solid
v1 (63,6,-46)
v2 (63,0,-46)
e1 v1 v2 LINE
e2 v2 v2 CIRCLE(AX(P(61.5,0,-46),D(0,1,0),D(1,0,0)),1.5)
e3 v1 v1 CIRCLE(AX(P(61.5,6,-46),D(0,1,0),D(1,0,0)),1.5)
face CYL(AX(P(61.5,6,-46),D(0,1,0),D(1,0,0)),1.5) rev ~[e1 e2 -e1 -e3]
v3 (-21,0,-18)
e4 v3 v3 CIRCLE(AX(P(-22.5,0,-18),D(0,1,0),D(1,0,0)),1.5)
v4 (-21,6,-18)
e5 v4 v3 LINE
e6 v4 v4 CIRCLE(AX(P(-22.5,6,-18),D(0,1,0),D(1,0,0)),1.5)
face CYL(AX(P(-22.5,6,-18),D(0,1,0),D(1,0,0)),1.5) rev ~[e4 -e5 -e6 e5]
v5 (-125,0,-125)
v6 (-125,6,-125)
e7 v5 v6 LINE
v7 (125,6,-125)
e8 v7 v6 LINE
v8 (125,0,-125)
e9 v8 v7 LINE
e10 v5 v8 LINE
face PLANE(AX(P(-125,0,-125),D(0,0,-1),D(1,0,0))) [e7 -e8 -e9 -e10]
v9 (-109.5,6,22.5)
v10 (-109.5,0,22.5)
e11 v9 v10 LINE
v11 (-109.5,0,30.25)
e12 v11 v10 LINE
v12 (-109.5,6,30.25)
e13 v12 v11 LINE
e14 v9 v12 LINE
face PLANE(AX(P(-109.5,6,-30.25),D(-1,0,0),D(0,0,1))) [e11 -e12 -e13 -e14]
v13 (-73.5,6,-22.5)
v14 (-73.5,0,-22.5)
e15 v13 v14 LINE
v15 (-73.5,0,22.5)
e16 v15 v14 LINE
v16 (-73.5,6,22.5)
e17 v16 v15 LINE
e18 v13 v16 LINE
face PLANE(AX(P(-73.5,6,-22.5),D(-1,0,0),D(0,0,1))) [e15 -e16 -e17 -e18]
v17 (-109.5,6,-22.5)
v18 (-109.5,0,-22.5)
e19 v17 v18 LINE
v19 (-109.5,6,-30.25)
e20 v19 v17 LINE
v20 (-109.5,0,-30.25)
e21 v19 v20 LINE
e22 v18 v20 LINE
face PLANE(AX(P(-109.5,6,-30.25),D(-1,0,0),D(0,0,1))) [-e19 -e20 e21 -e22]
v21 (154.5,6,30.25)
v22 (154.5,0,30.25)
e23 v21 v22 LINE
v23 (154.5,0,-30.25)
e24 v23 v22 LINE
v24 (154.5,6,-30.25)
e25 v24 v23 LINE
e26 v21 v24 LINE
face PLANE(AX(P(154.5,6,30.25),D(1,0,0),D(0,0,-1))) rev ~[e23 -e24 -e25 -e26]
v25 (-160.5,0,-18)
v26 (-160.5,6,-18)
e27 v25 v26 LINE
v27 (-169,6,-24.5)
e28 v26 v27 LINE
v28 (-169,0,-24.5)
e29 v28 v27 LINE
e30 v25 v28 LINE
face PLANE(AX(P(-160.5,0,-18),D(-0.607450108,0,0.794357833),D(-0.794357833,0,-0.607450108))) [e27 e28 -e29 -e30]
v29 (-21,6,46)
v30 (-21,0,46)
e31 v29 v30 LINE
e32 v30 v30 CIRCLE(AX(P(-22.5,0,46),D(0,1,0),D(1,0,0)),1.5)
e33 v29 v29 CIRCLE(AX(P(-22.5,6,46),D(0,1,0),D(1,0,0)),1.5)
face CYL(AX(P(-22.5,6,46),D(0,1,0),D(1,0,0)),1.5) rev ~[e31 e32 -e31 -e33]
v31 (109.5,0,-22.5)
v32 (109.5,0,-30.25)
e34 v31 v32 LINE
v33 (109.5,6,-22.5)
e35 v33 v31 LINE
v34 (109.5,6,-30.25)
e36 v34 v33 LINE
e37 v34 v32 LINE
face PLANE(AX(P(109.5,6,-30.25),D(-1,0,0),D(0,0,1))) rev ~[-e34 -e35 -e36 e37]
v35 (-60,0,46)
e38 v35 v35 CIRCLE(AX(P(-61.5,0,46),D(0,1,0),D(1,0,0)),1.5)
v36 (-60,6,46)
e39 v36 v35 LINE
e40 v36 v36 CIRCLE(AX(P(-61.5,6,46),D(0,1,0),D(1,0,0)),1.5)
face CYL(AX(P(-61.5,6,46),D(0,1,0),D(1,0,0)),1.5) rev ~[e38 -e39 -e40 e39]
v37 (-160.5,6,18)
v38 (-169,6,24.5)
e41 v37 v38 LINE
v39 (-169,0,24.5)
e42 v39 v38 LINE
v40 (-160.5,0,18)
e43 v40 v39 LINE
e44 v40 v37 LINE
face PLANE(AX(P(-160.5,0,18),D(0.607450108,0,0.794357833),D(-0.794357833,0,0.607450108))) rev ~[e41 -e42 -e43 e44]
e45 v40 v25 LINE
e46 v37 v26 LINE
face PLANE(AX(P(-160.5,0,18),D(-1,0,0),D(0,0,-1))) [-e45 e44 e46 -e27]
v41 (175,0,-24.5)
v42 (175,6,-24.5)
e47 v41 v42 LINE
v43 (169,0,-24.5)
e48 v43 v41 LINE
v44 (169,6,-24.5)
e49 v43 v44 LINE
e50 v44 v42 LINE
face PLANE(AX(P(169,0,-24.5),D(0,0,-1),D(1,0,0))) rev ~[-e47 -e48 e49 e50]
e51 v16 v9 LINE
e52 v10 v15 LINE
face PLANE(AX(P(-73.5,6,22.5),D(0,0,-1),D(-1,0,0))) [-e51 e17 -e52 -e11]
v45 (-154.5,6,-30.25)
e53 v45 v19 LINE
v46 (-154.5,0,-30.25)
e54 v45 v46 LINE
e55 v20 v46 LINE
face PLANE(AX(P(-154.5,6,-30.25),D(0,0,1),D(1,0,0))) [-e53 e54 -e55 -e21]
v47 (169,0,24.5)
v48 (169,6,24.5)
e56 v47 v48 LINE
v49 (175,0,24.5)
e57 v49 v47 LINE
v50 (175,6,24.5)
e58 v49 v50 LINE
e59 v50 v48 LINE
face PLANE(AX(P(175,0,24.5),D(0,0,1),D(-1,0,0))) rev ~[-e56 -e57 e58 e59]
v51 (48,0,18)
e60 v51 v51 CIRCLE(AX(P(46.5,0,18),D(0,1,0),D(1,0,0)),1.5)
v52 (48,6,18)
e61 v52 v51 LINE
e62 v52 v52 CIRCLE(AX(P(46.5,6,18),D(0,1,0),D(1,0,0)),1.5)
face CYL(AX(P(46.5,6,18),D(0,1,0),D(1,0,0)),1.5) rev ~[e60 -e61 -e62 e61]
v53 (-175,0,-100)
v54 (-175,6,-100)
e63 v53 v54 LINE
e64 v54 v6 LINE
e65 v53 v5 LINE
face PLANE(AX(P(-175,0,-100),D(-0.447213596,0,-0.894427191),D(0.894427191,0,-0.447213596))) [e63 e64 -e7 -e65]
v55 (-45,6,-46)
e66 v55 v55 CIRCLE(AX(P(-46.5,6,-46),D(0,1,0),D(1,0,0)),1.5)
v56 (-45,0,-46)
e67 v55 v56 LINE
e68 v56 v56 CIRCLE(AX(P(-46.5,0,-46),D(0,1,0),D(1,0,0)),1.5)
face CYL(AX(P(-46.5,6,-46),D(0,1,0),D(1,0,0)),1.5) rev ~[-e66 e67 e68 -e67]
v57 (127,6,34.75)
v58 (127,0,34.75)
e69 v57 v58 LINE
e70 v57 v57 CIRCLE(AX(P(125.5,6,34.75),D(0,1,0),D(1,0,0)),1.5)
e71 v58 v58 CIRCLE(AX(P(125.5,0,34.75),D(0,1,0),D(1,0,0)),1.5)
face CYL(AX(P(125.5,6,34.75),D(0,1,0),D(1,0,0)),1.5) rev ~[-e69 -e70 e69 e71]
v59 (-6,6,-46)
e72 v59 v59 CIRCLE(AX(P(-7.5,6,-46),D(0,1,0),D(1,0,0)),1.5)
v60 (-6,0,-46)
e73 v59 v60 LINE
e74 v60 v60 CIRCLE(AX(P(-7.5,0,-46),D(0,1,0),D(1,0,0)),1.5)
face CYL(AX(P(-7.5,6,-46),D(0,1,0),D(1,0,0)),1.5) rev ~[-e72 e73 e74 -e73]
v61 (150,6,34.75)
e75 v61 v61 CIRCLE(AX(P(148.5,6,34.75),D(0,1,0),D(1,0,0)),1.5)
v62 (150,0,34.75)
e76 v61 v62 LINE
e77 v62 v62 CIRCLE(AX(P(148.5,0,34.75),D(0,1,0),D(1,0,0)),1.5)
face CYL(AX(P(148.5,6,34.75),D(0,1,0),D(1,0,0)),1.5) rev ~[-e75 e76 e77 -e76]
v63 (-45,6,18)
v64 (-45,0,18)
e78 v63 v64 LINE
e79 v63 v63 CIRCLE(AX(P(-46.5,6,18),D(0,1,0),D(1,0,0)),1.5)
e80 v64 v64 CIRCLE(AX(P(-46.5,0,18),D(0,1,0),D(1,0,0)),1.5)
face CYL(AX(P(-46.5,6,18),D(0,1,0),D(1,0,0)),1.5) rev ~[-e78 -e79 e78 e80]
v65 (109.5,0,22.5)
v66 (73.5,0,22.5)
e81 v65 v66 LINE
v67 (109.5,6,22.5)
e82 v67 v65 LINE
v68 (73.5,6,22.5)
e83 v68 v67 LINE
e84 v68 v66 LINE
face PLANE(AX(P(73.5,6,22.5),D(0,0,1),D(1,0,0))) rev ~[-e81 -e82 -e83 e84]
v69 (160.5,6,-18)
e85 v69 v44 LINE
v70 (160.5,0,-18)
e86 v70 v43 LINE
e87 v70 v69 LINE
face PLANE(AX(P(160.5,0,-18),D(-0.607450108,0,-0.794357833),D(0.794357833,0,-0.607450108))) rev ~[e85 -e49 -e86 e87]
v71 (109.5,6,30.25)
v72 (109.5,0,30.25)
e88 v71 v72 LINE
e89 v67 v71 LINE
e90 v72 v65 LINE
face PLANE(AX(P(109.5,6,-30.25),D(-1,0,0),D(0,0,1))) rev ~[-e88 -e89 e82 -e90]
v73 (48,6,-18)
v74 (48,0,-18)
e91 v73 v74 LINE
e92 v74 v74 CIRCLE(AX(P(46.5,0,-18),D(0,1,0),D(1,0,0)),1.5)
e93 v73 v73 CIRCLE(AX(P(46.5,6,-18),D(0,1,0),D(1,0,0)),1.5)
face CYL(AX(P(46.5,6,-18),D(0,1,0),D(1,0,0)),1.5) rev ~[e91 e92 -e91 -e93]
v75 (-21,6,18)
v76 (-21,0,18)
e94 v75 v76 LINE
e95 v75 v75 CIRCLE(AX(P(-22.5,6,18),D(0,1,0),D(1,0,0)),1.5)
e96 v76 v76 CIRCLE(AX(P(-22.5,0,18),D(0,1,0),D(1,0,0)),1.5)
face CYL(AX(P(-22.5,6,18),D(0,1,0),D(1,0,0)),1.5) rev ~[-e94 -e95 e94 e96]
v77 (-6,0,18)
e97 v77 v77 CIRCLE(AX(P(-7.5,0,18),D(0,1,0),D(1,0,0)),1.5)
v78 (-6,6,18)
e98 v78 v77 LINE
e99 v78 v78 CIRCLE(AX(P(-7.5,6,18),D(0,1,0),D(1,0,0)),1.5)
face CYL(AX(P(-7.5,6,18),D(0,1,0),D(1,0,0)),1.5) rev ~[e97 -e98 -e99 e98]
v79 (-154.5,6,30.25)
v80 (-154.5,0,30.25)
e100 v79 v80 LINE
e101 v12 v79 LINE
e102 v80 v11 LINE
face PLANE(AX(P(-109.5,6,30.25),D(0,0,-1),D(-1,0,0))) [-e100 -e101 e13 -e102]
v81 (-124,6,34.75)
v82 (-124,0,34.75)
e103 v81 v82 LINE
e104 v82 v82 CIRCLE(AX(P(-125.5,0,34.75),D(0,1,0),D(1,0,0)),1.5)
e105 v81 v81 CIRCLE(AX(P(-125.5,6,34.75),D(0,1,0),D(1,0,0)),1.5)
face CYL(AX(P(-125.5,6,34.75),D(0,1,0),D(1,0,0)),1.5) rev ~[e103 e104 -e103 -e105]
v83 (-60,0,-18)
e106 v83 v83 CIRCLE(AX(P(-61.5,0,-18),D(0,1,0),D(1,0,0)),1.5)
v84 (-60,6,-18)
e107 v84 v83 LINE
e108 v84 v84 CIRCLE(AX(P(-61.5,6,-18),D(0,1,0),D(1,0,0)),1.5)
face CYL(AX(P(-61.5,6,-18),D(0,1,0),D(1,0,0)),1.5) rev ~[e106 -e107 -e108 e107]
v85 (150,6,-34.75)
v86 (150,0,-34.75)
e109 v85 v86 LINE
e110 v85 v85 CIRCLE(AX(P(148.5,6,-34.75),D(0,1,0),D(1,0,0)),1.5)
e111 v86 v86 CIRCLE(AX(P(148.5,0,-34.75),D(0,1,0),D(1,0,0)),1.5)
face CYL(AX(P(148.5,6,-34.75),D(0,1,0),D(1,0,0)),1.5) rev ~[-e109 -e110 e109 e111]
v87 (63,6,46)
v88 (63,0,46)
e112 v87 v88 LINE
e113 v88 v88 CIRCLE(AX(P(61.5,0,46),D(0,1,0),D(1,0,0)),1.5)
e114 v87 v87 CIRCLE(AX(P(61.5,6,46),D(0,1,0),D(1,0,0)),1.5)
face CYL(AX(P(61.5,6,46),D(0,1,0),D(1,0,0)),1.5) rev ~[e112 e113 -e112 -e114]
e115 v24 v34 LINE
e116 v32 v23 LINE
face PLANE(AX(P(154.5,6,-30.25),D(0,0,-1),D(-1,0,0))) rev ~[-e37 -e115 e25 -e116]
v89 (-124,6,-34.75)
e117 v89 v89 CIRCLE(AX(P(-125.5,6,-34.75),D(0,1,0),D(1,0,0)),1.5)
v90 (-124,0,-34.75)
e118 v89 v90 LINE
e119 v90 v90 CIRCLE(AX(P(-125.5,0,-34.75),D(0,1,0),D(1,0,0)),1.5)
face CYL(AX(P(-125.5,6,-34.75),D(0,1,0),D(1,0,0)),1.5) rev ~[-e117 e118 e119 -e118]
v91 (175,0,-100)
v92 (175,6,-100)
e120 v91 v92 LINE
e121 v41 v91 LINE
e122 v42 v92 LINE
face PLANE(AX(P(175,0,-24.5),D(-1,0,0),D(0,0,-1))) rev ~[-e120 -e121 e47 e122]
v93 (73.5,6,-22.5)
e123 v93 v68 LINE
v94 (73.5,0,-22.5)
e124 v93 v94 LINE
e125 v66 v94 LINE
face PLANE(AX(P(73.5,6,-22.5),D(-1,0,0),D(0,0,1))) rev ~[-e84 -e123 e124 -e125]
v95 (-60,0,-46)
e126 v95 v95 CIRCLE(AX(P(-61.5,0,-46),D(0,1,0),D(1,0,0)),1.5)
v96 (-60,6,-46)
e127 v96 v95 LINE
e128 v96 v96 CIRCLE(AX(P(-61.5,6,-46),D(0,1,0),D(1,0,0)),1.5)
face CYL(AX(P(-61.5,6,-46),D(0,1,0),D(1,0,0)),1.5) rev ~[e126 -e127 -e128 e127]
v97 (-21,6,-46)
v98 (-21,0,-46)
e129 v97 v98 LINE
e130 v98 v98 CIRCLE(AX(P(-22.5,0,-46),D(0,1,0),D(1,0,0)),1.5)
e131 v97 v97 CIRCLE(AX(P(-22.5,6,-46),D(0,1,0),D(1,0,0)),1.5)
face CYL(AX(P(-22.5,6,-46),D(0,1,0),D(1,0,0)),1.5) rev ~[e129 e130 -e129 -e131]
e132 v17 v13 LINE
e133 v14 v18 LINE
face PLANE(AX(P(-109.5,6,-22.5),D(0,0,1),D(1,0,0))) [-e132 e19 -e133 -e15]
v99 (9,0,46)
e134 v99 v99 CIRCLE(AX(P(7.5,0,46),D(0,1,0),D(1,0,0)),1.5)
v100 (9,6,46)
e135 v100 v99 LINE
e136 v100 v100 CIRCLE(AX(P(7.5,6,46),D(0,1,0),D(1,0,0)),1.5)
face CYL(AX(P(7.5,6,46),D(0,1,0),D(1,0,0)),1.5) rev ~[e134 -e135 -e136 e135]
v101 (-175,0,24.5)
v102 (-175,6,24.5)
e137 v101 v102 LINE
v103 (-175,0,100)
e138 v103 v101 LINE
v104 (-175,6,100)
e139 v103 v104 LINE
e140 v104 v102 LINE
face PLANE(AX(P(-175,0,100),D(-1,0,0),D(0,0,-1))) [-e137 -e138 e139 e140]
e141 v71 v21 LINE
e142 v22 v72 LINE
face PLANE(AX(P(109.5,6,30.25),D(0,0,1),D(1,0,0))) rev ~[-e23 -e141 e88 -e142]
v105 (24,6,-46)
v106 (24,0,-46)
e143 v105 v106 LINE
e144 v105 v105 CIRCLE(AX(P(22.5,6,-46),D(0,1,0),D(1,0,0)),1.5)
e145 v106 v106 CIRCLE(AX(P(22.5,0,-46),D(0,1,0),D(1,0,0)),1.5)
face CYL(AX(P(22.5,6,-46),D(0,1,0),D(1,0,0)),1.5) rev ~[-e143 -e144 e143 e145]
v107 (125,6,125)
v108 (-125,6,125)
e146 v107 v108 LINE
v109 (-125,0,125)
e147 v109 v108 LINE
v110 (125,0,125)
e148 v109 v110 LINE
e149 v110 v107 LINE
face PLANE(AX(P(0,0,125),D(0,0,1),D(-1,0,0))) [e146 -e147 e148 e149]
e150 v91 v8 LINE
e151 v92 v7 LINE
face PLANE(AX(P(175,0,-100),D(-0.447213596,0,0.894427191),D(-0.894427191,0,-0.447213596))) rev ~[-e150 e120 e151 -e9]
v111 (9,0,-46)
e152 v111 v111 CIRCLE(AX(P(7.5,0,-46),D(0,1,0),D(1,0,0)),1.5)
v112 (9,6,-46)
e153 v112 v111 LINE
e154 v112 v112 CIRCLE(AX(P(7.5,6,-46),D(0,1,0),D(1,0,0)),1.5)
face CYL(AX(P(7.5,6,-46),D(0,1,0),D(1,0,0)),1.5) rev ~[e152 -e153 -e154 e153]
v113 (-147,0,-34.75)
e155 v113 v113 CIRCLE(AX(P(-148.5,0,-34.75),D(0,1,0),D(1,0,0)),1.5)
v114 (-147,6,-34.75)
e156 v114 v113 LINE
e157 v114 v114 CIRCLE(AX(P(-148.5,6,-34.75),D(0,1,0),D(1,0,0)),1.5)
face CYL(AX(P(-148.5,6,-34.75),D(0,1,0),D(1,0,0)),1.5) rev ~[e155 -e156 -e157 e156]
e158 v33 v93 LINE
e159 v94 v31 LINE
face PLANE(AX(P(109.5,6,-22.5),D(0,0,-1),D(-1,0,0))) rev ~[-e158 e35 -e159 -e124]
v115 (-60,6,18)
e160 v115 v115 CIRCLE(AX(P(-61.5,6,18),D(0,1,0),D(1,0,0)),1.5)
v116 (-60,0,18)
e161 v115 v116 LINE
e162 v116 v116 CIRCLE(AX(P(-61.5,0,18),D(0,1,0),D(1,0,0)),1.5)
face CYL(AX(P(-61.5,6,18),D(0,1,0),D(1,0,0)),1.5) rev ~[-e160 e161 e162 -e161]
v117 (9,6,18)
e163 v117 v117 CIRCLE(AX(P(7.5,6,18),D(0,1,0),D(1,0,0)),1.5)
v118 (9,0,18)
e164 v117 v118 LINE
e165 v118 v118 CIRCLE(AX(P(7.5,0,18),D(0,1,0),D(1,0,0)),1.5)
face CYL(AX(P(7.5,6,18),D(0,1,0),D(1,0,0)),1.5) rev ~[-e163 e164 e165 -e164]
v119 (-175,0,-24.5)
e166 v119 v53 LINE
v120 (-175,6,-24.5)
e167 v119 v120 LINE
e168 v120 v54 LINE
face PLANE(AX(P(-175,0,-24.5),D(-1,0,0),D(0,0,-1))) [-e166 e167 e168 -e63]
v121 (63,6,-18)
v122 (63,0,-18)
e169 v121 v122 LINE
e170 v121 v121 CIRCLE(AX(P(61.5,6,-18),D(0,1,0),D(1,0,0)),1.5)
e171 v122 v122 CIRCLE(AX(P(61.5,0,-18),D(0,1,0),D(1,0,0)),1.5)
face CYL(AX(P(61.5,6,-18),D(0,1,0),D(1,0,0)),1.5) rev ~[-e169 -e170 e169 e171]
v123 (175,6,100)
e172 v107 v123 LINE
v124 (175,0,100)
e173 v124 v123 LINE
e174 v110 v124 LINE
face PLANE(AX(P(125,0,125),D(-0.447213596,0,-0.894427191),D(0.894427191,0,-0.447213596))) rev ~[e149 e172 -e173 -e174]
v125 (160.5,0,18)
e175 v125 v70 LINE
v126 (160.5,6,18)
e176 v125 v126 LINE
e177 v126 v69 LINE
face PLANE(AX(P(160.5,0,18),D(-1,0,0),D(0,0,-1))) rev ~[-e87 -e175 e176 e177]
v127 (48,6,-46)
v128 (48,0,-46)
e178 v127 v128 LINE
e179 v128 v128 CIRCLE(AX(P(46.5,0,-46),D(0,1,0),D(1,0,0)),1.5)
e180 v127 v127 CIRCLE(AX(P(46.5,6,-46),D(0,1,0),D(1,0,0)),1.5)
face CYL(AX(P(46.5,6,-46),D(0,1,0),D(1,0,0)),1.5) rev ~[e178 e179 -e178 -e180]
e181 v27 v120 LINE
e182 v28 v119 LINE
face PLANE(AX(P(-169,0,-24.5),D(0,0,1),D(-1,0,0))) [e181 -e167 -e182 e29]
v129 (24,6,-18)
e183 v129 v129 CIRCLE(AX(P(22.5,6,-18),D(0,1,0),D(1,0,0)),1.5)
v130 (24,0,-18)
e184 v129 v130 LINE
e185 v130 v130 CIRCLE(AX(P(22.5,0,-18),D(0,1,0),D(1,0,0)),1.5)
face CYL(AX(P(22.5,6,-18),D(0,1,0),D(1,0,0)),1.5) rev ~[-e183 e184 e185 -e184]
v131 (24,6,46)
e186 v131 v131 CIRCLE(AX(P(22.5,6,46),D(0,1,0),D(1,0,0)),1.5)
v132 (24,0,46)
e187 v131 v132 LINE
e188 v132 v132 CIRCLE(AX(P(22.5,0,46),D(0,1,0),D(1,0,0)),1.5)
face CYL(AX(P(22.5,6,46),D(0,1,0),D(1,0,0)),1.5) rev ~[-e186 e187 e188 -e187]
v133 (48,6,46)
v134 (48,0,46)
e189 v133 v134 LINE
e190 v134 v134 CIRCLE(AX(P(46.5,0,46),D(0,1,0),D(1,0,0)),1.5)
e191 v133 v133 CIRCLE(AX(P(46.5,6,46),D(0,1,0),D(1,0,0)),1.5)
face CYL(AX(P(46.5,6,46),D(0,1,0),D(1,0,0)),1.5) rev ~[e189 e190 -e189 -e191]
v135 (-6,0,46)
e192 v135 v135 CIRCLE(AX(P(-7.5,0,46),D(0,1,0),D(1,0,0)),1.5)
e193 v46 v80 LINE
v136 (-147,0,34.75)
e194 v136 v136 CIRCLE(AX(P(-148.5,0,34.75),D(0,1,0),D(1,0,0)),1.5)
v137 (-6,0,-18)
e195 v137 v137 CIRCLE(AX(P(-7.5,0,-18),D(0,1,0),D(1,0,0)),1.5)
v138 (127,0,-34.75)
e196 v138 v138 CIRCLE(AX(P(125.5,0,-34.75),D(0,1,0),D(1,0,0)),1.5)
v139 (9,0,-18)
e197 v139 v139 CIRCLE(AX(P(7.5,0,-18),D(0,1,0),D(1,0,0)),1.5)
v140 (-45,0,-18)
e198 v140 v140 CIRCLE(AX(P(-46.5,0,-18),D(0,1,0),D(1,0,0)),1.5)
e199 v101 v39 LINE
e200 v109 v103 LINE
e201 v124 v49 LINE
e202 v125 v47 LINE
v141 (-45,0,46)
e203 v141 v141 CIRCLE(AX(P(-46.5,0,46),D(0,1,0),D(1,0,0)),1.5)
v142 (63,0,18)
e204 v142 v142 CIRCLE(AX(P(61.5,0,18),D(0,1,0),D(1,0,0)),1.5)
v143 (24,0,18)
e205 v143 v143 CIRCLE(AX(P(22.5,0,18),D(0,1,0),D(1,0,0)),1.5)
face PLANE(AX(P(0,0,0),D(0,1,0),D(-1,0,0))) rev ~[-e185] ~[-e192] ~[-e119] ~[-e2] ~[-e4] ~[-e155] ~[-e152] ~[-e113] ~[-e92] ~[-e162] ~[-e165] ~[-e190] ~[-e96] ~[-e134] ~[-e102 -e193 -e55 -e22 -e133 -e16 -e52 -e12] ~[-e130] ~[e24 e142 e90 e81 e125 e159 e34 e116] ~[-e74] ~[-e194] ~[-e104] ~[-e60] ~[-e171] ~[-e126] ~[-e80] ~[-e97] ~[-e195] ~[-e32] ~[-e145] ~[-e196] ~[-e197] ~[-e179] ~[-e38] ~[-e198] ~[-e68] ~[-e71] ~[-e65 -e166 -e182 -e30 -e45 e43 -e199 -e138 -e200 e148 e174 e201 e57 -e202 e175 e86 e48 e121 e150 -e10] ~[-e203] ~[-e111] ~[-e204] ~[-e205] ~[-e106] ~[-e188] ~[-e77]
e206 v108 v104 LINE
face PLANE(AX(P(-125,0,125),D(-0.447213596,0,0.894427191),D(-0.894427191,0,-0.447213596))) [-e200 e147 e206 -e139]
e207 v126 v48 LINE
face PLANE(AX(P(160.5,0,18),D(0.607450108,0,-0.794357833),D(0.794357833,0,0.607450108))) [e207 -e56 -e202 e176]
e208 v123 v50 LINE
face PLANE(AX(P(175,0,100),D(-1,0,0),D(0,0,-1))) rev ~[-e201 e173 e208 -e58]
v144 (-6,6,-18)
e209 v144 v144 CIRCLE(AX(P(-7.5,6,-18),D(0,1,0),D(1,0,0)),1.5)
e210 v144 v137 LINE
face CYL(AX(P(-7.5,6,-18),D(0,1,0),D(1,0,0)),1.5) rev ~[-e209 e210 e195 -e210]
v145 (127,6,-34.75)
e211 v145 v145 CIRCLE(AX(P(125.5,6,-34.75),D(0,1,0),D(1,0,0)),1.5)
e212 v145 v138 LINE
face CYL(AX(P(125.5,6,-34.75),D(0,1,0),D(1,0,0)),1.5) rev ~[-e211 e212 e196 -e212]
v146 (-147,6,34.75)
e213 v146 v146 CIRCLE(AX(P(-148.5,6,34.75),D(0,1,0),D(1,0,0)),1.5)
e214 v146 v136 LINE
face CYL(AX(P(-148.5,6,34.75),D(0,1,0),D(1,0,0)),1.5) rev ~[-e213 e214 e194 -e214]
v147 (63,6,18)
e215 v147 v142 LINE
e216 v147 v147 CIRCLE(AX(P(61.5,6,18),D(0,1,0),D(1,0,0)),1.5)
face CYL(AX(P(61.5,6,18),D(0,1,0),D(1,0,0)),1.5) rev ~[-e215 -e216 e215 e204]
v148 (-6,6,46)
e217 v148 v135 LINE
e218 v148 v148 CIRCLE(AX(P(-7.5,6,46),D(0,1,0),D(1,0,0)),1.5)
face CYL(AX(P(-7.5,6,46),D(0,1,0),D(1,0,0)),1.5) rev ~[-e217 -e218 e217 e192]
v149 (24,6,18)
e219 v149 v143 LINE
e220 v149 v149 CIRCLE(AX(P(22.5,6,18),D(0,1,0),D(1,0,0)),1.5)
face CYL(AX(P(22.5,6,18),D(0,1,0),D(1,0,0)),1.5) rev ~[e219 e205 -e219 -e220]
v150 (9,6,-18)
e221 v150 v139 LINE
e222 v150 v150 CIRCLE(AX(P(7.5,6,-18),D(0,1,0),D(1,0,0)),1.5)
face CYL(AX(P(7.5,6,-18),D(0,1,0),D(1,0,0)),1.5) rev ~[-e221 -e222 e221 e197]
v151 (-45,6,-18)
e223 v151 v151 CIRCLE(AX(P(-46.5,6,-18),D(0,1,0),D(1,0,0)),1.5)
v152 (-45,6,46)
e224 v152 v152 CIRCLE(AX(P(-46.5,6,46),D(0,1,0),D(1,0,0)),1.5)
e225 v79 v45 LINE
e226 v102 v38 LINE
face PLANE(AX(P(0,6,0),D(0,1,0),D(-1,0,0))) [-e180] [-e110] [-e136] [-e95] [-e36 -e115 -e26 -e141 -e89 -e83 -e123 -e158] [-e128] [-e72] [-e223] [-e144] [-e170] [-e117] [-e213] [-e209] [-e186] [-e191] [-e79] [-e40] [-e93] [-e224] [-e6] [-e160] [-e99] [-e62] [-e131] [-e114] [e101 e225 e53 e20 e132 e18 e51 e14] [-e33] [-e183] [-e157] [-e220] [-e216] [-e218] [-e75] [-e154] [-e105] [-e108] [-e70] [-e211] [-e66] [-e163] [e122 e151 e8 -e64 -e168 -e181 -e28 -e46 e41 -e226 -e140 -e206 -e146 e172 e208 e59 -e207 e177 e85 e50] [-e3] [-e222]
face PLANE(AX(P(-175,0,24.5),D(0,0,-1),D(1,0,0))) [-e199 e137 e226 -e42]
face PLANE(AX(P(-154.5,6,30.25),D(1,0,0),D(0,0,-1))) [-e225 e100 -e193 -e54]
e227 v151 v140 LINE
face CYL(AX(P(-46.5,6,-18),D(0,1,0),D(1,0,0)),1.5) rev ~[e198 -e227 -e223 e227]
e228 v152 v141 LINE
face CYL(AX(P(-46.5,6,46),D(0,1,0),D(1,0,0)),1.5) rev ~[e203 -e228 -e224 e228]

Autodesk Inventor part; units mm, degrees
ref_plane "YZ Plane" through (0, 0, 0) normal (1, 0, 0) x (0, 1, 0)
ref_plane "XZ Plane" through (0, 0, 0) normal (0, 1, 0) x (-1, 0, 0)
ref_plane "XY Plane" through (0, 0, 0) normal (0, 0, 1) x (1, 0, 0)
sketch "BodySketch" plane through (0, 0, 0) normal (0, 1, 0) x (-1, 0, 0)
  line L0 (0, 125) -> (125, 125)
  line L1 (125, 125) -> (175, 100)
  line L2 (175, 100) -> (175, 24.5)
  line L3 (175, 24.5) -> (169, 24.5)
  line L4 (160.5, 18) -> (160.5, -18)
  line L5 (169, -24.5) -> (175, -24.5)
  line L6 (175, -24.5) -> (175, -100)
  line L7 (175, -100) -> (125, -125)
  line L8 (125, -125) -> (0, -125)
  line L9 (0, 0) -> (0, 145.614) construction
  line L10 (0, 125) -> (-125, 125)
  line L11 (-125, 125) -> (-175, 100)
  line L12 (-175, 100) -> (-175, 24.5)
  line L13 (-175, -24.5) -> (-175, -100)
  line L14 (-175, -100) -> (-125, -125)
  line L15 (-125, -125) -> (0, -125)
  line L16 (0, 0) -> (316.974, 0) construction
  line L17 (160.5, 18) -> (169, 24.5)
  line L18 (160.5, -18) -> (169, -24.5)
  line L19 (-175, 24.5) -> (-169, 24.5)
  line L20 (-160.5, 18) -> (-160.5, -18)
  line L21 (-169, -24.5) -> (-175, -24.5)
  line L22 (-160.5, 18) -> (-169, 24.5)
  line L23 (-160.5, -18) -> (-169, -24.5)
  point P0 (160.5, 24.5)
  point P1 (160.5, -24.5)
  dimension "Chassis_Body_Width" = 350
  dimension "Chassis_Body_Length" = 250
  dimension "Chassis_EncoderWheelSpace_Diameter" = 49
  dimension "Chassis_EncoderWheelSpace_Width" = 14.5
  dimension "Chassis_Body_InnerLength" = 200
  dimension "Chassis_Body_InnerWidth" = 250
  dimension "d14" = 6
  dimension "d15" = 36
extrude "Body" add sketch "BodySketch" along normal blind 6
sketch "EncoderBodyHoleSketch" plane through (0, 6, 0) normal (0, 1, 0) x (1, 0, 0)
  line L0 (-175, 100) -> (-175, 24.5) projected
  line L1 (-175, -24.5) -> (-175, -100) projected
  line L2 (0, 0) -> (0, 145.3586) construction
  line L3 (-154.5, 30.25) -> (-109.5, 30.25)
  line L4 (-109.5, 30.25) -> (-109.5, -30.25)
  line L5 (-109.5, -30.25) -> (-154.5, -30.25)
  line L6 (-154.5, -30.25) -> (-154.5, 30.25)
  line L7 (0, 0) -> (187.4589, 0) construction
  line L8 (154.5, 30.25) -> (109.5, 30.25)
  line L9 (109.5, 30.25) -> (109.5, -30.25)
  line L10 (109.5, -30.25) -> (154.5, -30.25)
  line L11 (154.5, -30.25) -> (154.5, 30.25)
  line L12 (-169, -24.5) -> (-175, -24.5) projected
  line L13 (-132, 0) -> (-132, 72.6793) construction
  point P0 (-160.5, -24.5)
  dimension "d9" = 45
  dimension "d10" = 60.5
  dimension "d13" = 43
extrude "EncoderBodyHole" cut sketch "EncoderBodyHoleSketch" against normal up to next
sketch "EncoderSupportFasteningSketch" plane through (0, 6, 0) normal (0, 1, 0) x (1, 0, 0)
  line L0 (-175, 100) -> (-175, 24.5) projected
  line L1 (-175, -24.5) -> (-175, -100) projected
  line L2 (0, 0) -> (0, 103.2036) construction
  line L3 (-120.5, 39.75) -> (-153.5, 39.75) construction
  line L4 (-153.5, 39.75) -> (-153.5, -39.75) construction
  line L5 (-153.5, -39.75) -> (-120.5, -39.75) construction
  line L6 (-120.5, -39.75) -> (-120.5, 39.75) construction
  line L7 (0, 0) -> (196.594, 0) construction
  circle A0 centre (-148.5, 34.75) radius 1.5
  circle A1 centre (-148.5, -34.75) radius 1.5
  line L8 (-137, 47.3947) -> (-137, -51.0004) construction
  circle A2 centre (-125.5, 34.75) radius 1.5
  circle A3 centre (-125.5, -34.75) radius 1.5
  circle A4 centre (148.5, 34.75) radius 1.5
  circle A5 centre (148.5, -34.75) radius 1.5
  circle A6 centre (125.5, 34.75) radius 1.5
  circle A7 centre (125.5, -34.75) radius 1.5
  dimension "d16" = 79.5
  dimension "d17" = 33
  dimension "d18" = 21.5
  dimension "d19" = 3
  dimension "d20" = 5
  dimension "d21" = 5
  dimension "d22" = 16.5
extrude "EncoderSupportFastening" cut sketch "EncoderSupportFasteningSketch" against normal up to next
sketch "MotorBlockFasteningSketch" plane through (0, 6, 0) normal (0, 1, 0) x (1, 0, 0)
  line L0 (10.676, -18) -> (24.3135, -18) construction
  circle A0 centre (7.5, -18) radius 1.5
  circle A1 centre (22.5, -18) radius 1.5
  line L1 (0, 0) -> (0, -28.6489) construction
  circle A2 centre (46.5, -18) radius 1.5
  circle A3 centre (61.5, -18) radius 1.5
  circle A4 centre (7.5, -46) radius 1.5
  circle A5 centre (22.5, -46) radius 1.5
  circle A6 centre (46.5, -46) radius 1.5
  circle A7 centre (61.5, -46) radius 1.5
  circle A8 centre (-7.5, -18) radius 1.5
  circle A9 centre (-22.5, -18) radius 1.5
  circle A10 centre (-46.5, -18) radius 1.5
  circle A11 centre (-61.5, -18) radius 1.5
  circle A12 centre (-7.5, -46) radius 1.5
  circle A13 centre (-22.5, -46) radius 1.5
  circle A14 centre (-46.5, -46) radius 1.5
  circle A15 centre (-61.5, -46) radius 1.5
  line L2 (0, 0) -> (72.0385, 0) construction
  circle A16 centre (7.5, 18) radius 1.5
  circle A17 centre (22.5, 18) radius 1.5
  line L3 (0, 0) -> (0, 28.6489) construction
  circle A18 centre (46.5, 18) radius 1.5
  circle A19 centre (61.5, 18) radius 1.5
  circle A20 centre (7.5, 46) radius 1.5
  circle A21 centre (22.5, 46) radius 1.5
  circle A22 centre (46.5, 46) radius 1.5
  circle A23 centre (61.5, 46) radius 1.5
  circle A24 centre (-7.5, 18) radius 1.5
  circle A25 centre (-22.5, 18) radius 1.5
  circle A26 centre (-46.5, 18) radius 1.5
  circle A27 centre (-46.5, 46) radius 1.5
  circle A28 centre (-61.5, 18) radius 1.5
  circle A29 centre (-61.5, 46) radius 1.5
  circle A30 centre (-7.5, 46) radius 1.5
  circle A31 centre (-22.5, 46) radius 1.5
  dimension "d25" = 3
  dimension "d28" = 15
  dimension "d35" = 39
  dimension "d38" = 28
  dimension "d41" = 15
  dimension "d46" = 18
extrude "MotorBlockFastening" cut sketch "MotorBlockFasteningSketch" against normal up to next
sketch "MotorWheelHoleSketch" plane through (0, 6, 0) normal (0, 1, 0) x (1, 0, 0)
  line L0 (-109.5, 30.25) -> (-109.5, -30.25) projected
  line L1 (-109.5, 22.5) -> (-73.5, 22.5)
  line L2 (-73.5, 22.5) -> (-73.5, -22.5)
  line L3 (-73.5, -22.5) -> (-109.5, -22.5)
  line L4 (-109.5, -22.5) -> (-109.5, 22.5)
  line L5 (0, 0) -> (72.3504, 0) construction
  line L6 (-175, -24.5) -> (-175, -100) projected
  line L7 (0, 0) -> (0, 70.7306) construction
  line L8 (109.5, 22.5) -> (73.5, 22.5)
  line L9 (73.5, 22.5) -> (73.5, -22.5)
  line L10 (73.5, -22.5) -> (109.5, -22.5)
  line L11 (109.5, -22.5) -> (109.5, 22.5)
  dimension "d49" = 36
  dimension "d50" = 45
extrude "MotorWheelHole" cut sketch "MotorWheelHoleSketch" against normal up to next
equation "\"Chassis_EncoderWheelSpace_Diameter\" = EncoderWheel_Tyre_Diameter"
equation "\"Chassis_EncoderWheelSpace_Width\" = EncoderBlock_InterfaceToWheel_Distance + Chassis_MecanicalSpace"
equation "\"d14\" = EncoderWheel_Tyre_Width"
equation "\"d15\" = EncoderWheelInterface_Diameter"
equation "\"d9\" = EncoderSupportInside_Front_Thickness + Encoder_Body_Length + 2 * Chassis_MecanicalSpace"
equation "\"d10\" = EncoderSupportInside_Width + 2 * Chassis_MecanicalSpace"
equation "\"d13\" = EncoderBlock_SupportToWheel_Distance + 0.5 * Encoder_Body_Length + 0.5 * EncoderSupportInside_Front_Thickness"
equation "\"d16\" = EncoderSupportOutside_Width"
equation "\"d17\" = EncoderSupportOutside_Length"
equation "\"d18\" = EncoderBlock_SupportToWheel_Distance"
equation "\"d19\" = EncoderSupport_FixingHole_Diameter"
equation "\"d20\" = EncoderSupport_FixingnHole_Margin"
equation "\"d21\" = EncoderSupport_FixingnHole_Margin"
equation "\"d22\" = 0.5 * EncoderSupportOutside_Length"
equation "\"d28\" = Bracket_Holes_Distance"
equation "\"d35\" = Bracket_Holes_Distance + Bracket_Holes_UnfoldedDistance"
equation "\"d38\" = Bracket_Holes_LateralDistance"
equation "\"d41\" = Bracket_Holes_Distance"
equation "\"d46\" = Motor_FasteningHole_DistanceToCenter"
equation "\"Chassis_MecanicalSpace\" = 1"
equation "\"EncoderWheel_Tyre_Diameter\" = 49"
equation "\"EncoderBlock_InterfaceToWheel_Distance\" = 13.5"
equation "\"EncoderWheel_Tyre_Width\" = 6"
equation "\"EncoderWheelInterface_Diameter\" = 36"
equation "\"EncoderSupportInside_Front_Thickness\" = 3"
equation "\"Encoder_Body_Length\" = 40"
equation "\"EncoderSupportInside_Width\" = 58.5"
equation "\"EncoderBlock_SupportToWheel_Distance\" = 21.5"
equation "\"EncoderSupportOutside_Width\" = 79.5"
equation "\"EncoderSupportOutside_Length\" = 33"
equation "\"EncoderSupport_FixingHole_Diameter\" = 3"
equation "\"EncoderSupport_FixingnHole_Margin\" = 5"
equation "\"Bracket_Holes_Distance\" = 15"
equation "\"Bracket_Holes_UnfoldedDistance\" = 24"
equation "\"Bracket_Holes_LateralDistance\" = 28"
equation "\"Motor_FasteningHole_DistanceToCenter\" = 18"
properties part number "Chassis" material "Wood (Oak)"
